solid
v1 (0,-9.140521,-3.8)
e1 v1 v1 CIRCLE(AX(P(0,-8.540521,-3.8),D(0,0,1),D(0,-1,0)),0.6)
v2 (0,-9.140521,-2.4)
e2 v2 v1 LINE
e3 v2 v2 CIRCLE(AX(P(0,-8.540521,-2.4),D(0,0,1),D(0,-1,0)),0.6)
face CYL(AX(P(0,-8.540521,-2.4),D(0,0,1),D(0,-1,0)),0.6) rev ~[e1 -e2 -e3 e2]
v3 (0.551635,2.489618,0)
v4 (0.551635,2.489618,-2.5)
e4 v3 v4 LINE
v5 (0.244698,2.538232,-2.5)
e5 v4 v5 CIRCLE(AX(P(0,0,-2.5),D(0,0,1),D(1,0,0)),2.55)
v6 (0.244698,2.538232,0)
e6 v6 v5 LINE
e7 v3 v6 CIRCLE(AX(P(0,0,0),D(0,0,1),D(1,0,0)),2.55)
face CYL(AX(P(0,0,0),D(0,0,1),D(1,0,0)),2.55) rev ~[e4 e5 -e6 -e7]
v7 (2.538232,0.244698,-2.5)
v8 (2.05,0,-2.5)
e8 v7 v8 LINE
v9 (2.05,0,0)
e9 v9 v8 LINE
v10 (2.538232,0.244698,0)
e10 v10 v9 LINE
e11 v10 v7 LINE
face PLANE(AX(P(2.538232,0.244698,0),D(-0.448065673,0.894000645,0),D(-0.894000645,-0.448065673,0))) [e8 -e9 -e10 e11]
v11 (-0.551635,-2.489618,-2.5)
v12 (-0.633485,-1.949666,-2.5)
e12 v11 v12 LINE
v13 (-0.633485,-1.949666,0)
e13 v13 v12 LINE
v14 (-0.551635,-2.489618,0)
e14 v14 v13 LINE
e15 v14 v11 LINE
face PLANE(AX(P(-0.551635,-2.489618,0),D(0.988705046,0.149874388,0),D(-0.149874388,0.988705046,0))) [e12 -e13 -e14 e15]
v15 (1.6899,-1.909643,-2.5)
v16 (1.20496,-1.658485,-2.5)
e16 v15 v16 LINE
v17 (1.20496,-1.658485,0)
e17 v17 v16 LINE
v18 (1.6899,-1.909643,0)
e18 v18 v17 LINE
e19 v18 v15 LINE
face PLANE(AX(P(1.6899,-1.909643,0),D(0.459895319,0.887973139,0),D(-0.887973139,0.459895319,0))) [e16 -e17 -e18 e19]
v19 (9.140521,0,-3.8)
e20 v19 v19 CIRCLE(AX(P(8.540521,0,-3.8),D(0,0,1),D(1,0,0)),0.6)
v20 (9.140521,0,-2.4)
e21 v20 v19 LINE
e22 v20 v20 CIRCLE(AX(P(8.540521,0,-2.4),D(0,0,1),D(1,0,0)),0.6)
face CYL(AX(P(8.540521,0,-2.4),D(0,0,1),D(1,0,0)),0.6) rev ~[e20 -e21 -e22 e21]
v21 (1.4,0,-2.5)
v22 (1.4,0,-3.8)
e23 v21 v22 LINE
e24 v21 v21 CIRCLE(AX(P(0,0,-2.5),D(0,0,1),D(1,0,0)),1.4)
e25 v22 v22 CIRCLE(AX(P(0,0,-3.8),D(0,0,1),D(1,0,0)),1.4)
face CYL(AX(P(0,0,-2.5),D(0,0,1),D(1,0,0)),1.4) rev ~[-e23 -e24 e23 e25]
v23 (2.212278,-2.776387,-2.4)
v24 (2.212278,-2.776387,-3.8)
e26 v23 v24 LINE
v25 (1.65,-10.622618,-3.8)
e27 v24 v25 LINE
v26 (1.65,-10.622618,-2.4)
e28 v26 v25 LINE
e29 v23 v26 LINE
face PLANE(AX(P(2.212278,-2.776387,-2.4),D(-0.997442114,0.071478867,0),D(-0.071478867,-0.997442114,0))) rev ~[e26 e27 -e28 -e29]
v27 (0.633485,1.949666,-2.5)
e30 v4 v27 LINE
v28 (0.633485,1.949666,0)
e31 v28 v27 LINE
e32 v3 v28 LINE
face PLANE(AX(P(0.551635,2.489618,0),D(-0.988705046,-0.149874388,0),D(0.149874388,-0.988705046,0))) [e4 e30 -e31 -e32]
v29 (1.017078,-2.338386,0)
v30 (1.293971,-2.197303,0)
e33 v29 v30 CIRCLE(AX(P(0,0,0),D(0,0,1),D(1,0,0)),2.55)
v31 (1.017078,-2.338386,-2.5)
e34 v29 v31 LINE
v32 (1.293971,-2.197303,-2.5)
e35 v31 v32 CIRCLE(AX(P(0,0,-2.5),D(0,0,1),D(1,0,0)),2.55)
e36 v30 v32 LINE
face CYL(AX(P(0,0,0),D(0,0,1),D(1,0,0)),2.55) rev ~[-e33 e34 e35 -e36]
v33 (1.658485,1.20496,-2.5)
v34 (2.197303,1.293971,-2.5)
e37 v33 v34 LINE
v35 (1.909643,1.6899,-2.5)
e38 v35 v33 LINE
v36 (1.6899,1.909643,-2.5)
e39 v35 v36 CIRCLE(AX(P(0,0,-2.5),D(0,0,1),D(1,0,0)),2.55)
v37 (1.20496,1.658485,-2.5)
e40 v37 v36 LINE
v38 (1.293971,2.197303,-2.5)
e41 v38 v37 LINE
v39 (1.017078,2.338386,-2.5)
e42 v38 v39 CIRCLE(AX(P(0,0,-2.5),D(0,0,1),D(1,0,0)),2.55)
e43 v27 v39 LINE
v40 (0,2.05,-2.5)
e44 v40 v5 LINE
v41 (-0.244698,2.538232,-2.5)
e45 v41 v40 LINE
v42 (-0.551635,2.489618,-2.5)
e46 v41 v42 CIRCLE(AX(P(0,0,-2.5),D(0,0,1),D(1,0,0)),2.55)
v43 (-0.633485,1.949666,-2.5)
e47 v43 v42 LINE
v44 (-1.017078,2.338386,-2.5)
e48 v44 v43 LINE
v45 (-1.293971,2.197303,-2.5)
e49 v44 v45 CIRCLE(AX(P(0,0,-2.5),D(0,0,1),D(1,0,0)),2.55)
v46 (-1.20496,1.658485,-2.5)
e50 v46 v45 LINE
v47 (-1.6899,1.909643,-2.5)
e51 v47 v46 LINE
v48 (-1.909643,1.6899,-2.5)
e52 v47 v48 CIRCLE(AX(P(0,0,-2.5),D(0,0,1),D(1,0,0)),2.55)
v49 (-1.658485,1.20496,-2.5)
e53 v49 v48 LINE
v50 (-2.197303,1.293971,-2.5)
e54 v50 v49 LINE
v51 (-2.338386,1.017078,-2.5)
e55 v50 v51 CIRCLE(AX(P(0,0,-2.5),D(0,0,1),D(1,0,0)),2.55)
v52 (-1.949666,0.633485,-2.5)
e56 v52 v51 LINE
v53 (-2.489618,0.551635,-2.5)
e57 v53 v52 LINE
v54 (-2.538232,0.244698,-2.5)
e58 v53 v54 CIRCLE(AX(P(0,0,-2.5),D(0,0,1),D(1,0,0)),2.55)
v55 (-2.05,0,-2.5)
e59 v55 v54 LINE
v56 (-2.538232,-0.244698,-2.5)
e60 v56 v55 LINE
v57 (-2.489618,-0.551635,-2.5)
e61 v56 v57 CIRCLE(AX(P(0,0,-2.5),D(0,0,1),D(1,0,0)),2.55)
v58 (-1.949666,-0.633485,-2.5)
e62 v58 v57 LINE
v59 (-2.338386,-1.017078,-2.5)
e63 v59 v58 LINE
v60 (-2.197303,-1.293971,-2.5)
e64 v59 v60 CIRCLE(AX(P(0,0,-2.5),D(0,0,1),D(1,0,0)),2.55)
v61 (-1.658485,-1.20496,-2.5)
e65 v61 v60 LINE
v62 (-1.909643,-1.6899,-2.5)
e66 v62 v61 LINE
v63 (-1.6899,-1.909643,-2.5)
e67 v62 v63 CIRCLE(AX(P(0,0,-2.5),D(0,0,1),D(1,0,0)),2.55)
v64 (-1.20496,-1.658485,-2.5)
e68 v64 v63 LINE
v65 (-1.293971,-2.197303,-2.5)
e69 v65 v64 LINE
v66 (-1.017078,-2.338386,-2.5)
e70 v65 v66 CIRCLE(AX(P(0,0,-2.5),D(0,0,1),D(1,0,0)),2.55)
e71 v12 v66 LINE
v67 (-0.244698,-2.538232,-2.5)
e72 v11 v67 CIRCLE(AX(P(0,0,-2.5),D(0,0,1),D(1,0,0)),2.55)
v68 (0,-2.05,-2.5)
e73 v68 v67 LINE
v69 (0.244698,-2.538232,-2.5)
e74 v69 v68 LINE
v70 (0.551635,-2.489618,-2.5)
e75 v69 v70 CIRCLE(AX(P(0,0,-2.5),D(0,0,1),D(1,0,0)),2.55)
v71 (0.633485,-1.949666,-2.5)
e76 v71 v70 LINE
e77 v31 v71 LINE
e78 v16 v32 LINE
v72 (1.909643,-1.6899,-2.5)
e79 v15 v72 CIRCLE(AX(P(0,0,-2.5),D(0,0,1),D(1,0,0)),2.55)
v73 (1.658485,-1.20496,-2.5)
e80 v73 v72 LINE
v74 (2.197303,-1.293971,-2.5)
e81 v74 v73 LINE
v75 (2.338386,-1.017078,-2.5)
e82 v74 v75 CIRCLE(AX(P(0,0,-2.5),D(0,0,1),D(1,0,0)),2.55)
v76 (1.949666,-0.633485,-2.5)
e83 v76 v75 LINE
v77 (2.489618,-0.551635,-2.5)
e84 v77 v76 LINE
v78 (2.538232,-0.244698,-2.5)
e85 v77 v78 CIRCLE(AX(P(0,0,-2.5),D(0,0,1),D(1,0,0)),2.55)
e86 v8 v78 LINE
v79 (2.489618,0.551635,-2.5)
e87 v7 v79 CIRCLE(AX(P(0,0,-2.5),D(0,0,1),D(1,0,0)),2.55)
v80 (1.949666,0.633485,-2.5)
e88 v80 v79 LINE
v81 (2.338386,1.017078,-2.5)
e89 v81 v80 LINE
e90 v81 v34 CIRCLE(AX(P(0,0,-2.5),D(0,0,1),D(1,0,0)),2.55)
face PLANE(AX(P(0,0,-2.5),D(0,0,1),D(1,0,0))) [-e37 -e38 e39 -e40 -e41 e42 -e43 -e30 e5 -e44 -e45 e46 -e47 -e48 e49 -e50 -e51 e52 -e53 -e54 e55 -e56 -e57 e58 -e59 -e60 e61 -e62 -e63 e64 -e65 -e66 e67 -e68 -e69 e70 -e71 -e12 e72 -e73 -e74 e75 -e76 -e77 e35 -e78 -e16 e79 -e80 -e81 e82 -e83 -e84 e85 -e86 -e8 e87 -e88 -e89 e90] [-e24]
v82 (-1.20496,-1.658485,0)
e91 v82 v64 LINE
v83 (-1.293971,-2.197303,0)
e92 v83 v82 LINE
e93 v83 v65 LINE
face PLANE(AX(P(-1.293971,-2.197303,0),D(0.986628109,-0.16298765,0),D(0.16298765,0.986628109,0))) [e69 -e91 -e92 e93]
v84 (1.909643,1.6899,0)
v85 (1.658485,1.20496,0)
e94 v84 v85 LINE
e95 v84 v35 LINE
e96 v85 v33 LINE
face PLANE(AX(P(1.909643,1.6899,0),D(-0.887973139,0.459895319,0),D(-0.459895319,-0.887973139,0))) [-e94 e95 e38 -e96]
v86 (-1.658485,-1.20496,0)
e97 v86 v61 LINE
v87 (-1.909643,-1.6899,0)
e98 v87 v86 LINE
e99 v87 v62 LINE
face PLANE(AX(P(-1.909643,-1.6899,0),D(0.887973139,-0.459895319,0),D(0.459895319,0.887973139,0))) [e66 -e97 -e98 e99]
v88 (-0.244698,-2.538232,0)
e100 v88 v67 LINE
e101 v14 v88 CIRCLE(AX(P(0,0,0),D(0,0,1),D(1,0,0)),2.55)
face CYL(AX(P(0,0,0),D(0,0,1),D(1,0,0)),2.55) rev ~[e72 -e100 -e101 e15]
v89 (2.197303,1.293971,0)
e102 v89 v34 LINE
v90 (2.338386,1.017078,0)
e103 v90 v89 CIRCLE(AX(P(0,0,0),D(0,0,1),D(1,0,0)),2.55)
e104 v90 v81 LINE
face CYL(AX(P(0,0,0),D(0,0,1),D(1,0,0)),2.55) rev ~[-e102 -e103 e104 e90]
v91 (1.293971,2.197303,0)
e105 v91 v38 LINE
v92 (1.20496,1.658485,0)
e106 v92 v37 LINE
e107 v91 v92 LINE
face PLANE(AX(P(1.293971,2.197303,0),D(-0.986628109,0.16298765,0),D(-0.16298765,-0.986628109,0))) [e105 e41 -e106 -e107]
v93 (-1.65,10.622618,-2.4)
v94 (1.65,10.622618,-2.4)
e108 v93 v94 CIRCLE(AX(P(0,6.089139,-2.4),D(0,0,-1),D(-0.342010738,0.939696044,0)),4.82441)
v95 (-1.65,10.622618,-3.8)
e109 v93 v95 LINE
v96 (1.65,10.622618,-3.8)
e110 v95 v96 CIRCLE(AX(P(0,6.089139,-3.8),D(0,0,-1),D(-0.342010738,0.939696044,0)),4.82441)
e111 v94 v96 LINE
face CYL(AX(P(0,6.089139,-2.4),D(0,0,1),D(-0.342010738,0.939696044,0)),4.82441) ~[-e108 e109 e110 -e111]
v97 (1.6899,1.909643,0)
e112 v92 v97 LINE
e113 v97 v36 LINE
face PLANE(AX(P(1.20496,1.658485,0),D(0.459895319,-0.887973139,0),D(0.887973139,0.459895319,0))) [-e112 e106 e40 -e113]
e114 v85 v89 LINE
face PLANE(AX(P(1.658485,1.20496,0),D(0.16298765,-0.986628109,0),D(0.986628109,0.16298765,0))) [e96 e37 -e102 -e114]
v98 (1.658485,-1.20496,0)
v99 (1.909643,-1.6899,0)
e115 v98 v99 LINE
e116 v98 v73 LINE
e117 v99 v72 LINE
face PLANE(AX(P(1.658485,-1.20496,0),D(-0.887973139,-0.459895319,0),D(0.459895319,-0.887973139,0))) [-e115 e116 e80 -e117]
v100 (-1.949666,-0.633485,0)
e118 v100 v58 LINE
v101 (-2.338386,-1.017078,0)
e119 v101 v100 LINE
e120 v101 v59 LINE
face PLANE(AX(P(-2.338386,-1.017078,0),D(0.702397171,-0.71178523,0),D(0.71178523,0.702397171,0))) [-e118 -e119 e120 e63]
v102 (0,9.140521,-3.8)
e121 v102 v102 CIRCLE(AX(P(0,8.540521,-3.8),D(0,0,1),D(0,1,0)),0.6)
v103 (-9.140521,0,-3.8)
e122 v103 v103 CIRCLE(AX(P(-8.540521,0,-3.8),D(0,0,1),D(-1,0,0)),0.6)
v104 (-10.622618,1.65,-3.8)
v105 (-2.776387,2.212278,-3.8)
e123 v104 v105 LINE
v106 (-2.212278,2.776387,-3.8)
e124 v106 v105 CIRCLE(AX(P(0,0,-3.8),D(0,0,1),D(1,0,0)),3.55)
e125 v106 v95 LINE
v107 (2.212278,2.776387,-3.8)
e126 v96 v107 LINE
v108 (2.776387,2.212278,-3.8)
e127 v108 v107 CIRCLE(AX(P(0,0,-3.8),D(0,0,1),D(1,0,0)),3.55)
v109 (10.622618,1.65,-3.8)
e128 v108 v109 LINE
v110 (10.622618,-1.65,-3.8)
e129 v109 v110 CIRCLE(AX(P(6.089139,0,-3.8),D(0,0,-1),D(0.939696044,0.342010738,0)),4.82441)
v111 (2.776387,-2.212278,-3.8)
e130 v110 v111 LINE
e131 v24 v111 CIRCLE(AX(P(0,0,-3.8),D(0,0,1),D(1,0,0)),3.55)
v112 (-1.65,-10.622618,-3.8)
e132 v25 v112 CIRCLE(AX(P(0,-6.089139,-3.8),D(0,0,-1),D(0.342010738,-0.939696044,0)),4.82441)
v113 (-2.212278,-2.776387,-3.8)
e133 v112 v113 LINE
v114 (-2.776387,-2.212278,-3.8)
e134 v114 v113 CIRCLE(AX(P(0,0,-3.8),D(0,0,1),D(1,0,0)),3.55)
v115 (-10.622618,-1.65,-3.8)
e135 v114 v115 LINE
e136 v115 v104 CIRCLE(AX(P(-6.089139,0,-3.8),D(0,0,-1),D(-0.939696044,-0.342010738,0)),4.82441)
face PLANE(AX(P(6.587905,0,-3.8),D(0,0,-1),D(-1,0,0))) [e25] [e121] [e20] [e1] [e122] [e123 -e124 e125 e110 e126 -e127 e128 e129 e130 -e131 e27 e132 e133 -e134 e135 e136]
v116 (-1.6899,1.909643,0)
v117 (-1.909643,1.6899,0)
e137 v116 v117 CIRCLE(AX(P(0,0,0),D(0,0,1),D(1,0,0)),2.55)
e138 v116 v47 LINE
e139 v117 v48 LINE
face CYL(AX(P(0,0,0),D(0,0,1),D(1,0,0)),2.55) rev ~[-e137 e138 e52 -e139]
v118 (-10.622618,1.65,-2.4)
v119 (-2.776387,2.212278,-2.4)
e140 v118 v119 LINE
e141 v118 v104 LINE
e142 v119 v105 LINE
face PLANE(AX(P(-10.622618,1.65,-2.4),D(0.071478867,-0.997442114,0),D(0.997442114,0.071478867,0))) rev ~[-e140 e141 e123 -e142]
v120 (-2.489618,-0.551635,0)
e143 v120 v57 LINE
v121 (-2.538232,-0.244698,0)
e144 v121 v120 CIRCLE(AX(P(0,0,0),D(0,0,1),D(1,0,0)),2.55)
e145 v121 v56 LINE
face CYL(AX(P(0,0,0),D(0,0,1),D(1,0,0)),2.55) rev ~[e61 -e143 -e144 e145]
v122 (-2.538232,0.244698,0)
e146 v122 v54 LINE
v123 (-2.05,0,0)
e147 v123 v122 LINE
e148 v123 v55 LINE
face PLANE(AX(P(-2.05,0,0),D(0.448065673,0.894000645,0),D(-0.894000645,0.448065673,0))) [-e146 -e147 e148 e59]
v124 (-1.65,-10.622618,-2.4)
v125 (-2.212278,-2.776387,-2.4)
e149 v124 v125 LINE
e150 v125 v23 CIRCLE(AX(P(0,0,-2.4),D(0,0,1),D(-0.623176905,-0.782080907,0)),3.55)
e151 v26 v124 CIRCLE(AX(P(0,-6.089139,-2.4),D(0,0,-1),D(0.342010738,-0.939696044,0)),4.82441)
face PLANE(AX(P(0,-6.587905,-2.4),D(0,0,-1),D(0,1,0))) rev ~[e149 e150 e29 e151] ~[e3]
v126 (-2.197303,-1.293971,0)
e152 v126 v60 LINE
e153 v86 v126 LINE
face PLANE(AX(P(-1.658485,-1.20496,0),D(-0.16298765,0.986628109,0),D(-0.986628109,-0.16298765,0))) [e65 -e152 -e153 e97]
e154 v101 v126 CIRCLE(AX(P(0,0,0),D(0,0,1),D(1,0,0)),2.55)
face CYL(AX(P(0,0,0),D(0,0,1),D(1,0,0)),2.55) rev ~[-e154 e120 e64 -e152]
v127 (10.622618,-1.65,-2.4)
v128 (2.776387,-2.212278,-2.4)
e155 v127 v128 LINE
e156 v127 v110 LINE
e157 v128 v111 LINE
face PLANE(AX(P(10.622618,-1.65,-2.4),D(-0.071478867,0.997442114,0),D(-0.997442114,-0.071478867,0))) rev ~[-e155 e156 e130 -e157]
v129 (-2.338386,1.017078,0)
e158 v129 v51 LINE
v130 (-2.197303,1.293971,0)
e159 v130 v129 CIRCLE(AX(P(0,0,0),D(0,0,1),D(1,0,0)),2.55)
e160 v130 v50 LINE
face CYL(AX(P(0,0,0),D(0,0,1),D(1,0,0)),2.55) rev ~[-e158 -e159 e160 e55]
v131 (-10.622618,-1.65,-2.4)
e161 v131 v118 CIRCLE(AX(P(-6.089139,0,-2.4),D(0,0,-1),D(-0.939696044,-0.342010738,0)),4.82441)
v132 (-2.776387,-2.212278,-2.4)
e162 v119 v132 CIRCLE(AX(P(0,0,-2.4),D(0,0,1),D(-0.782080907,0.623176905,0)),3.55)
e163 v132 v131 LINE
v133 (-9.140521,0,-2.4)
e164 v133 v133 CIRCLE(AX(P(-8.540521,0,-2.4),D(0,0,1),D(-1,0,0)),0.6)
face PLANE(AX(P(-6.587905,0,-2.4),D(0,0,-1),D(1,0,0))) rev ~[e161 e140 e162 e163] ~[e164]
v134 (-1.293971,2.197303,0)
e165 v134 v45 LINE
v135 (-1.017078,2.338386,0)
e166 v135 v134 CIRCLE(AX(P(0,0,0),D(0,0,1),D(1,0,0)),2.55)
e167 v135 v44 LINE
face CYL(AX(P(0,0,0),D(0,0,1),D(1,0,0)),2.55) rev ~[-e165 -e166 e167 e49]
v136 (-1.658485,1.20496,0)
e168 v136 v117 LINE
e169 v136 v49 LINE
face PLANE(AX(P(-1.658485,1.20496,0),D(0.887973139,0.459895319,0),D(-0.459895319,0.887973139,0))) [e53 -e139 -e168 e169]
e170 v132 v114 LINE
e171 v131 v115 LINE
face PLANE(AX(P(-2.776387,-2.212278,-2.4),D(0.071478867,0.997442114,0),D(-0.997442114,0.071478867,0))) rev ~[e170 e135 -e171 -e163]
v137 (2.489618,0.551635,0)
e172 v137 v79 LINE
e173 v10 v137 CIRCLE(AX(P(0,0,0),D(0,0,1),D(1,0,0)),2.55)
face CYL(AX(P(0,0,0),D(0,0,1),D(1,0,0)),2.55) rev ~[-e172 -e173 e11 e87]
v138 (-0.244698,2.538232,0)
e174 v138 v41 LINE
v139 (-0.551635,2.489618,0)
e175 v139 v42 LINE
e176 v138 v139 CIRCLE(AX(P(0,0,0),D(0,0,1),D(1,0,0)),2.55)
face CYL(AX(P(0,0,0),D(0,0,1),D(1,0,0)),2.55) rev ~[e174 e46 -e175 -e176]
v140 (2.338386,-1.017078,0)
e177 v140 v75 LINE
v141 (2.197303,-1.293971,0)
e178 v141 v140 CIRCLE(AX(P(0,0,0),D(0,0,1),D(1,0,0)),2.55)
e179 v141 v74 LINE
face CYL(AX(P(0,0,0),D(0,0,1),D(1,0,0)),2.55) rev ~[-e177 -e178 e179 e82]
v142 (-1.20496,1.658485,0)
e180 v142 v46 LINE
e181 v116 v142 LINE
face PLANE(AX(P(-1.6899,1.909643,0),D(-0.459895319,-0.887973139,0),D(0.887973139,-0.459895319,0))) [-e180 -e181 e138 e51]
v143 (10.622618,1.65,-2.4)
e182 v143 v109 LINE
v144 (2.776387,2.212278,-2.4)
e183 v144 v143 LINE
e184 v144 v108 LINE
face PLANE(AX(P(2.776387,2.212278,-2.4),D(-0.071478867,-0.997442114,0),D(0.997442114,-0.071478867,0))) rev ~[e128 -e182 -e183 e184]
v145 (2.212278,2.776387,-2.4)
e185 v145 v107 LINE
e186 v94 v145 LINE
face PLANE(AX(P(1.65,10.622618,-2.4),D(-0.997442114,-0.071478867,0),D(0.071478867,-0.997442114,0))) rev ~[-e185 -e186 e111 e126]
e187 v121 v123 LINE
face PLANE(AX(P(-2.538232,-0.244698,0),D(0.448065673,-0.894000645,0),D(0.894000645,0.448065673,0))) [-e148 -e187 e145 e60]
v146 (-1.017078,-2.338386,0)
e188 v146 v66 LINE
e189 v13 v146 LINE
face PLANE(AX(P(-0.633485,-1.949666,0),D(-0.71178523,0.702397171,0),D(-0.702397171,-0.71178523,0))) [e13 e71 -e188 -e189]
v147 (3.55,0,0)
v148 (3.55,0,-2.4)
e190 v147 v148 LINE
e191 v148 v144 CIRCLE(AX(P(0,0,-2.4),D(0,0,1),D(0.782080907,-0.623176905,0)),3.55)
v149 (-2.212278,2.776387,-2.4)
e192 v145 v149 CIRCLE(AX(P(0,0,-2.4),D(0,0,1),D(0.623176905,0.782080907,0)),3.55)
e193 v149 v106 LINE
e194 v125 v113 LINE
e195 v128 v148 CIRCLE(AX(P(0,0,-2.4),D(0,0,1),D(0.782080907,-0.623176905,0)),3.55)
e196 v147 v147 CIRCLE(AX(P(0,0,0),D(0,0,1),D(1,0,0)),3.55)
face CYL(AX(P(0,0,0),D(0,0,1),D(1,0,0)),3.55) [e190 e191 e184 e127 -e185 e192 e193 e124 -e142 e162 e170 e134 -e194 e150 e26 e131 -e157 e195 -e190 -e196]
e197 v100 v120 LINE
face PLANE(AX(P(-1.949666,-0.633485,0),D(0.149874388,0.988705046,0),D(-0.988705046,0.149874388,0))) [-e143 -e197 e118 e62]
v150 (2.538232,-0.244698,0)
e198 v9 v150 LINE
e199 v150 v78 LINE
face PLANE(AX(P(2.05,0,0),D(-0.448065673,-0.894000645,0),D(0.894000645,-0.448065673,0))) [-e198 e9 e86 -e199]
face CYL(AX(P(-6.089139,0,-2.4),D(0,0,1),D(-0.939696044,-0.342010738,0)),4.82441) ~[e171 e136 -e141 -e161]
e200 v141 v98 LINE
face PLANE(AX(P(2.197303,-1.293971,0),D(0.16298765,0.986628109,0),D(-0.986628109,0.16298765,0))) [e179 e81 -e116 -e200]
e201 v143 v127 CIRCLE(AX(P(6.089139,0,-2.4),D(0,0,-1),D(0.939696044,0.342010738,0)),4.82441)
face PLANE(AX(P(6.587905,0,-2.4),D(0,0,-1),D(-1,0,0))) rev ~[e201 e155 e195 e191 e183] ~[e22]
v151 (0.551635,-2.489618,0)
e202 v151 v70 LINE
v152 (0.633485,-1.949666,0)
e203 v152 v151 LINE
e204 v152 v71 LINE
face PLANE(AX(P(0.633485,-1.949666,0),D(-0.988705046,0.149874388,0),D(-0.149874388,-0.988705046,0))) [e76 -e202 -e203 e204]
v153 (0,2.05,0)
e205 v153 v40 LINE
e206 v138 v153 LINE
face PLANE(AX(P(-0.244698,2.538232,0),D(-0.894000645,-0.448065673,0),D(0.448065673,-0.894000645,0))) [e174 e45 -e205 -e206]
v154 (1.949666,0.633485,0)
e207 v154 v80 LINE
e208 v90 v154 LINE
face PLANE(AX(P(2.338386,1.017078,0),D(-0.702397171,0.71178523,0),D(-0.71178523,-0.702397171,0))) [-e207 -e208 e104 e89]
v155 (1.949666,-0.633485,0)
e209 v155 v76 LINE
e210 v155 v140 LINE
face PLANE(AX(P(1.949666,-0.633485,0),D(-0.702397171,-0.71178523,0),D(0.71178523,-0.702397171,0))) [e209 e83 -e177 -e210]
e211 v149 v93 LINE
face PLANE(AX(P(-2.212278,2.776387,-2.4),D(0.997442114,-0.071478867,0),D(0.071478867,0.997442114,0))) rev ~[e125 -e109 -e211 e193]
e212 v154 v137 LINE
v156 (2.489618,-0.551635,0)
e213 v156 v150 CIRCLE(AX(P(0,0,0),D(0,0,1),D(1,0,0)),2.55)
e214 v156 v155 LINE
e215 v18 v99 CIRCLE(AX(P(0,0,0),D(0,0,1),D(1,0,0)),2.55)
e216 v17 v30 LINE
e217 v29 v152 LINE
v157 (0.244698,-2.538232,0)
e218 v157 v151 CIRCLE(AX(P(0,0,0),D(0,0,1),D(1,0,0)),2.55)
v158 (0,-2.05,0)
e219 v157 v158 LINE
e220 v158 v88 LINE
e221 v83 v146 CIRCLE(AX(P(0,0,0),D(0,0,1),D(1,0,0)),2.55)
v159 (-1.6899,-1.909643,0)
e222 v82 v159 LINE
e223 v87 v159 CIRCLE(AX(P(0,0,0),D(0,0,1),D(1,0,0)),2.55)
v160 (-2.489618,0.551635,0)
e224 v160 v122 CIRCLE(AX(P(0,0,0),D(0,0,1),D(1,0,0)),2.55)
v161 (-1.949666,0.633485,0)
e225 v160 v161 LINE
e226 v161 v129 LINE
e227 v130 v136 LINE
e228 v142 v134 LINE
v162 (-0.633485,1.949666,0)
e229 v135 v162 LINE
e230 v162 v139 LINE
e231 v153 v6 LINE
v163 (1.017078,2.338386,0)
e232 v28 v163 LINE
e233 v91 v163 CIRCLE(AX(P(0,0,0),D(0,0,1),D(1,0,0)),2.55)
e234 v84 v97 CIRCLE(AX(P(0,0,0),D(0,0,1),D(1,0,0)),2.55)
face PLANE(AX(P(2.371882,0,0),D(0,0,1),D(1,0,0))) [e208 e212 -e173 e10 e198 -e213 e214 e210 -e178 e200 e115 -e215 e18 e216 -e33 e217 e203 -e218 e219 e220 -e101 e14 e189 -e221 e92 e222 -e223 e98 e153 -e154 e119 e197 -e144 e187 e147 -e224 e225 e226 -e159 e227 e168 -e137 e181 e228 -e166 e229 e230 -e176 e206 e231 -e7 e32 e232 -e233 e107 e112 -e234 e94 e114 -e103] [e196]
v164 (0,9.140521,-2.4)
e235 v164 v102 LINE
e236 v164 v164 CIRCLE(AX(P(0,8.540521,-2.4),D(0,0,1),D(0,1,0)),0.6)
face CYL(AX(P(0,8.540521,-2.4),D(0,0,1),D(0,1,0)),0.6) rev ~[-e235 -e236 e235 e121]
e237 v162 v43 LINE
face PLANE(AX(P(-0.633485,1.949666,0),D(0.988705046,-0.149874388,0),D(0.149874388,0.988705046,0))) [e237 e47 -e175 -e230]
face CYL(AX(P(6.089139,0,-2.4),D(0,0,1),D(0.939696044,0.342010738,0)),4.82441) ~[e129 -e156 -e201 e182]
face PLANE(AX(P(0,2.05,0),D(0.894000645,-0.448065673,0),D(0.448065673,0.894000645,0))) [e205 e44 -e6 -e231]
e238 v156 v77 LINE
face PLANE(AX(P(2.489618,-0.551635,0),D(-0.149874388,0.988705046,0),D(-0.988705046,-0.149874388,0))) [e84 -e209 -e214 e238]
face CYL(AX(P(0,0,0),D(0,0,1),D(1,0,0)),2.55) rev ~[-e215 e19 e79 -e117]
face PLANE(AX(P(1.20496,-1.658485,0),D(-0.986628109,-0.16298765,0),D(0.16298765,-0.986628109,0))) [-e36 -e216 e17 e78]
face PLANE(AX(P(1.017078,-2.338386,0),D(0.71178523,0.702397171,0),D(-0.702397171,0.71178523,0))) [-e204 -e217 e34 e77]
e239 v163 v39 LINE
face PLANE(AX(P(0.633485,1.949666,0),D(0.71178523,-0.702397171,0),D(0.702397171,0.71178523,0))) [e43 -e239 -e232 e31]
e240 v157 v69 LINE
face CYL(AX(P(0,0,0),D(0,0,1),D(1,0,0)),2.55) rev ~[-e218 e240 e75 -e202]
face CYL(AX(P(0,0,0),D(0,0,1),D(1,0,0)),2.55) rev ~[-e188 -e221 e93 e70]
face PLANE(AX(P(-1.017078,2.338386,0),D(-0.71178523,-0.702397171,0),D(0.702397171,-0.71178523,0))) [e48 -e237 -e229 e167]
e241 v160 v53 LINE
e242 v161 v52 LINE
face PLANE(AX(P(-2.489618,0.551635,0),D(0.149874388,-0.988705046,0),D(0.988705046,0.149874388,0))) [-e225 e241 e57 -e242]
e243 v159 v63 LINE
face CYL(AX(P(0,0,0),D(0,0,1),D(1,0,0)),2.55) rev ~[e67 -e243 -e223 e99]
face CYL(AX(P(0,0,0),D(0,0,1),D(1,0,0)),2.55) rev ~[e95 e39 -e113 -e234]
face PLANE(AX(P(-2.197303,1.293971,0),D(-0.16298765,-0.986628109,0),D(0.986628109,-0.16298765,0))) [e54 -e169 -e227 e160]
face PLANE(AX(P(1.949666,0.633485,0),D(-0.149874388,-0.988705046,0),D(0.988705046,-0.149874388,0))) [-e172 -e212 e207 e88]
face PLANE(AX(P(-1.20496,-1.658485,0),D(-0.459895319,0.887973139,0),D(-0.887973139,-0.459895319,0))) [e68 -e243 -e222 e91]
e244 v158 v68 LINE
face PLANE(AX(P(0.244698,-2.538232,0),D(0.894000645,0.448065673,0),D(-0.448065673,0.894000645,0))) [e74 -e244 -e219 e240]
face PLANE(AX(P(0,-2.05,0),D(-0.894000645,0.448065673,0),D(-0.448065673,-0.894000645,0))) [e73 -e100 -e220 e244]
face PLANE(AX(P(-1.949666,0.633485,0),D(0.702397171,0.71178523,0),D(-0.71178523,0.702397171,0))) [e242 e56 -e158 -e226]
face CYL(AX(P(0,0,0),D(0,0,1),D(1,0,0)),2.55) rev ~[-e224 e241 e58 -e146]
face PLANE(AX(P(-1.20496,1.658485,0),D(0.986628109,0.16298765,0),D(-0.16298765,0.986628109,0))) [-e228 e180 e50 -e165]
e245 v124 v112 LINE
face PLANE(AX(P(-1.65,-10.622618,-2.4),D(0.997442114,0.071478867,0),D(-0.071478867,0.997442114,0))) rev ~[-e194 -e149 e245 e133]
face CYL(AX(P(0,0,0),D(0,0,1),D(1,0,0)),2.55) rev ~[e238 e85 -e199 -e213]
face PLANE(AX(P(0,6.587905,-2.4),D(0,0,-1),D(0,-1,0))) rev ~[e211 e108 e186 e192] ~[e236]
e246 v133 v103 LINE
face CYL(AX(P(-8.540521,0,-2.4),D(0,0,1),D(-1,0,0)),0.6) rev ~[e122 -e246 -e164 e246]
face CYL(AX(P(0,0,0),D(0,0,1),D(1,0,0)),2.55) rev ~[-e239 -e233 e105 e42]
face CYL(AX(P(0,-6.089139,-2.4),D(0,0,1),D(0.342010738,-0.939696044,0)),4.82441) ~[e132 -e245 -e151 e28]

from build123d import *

# Parameters (mm, degrees)
SKETCH2_R           = 3.55
BOSS_EXTRUDE1_DEPTH = 3.8
BOSS_EXTRUDE2_DEPTH = 1.4
SKETCH5_R           = 2.549999919
CUT_EXTRUDE1_DEPTH  = 2.5
BOSS_EXTRUDE3_DEPTH = 2.5
SKETCH6_R           = 1.4
CUT_EXTRUDE2_DEPTH  = 12.745554295
SKETCH7_R           = 0.6
CUT_EXTRUDE3_DEPTH  = 12.724676785
CIRPATTERN1_COUNT   = 4
CIRPATTERN2_COUNT   = 4


with BuildPart() as part:
    # Sketch2 → Boss-Extrude1 (new body)
    with BuildSketch(Plane.XY):
        Circle(SKETCH2_R)
    extrude(amount=-BOSS_EXTRUDE1_DEPTH)

    # Sketch4 → Boss-Extrude2 (add)
    with BuildSketch(Plane.XY.offset(-2.4)):
        with BuildLine():
            Line((2.776387215, 2.212277889), (10.622617722, 1.649999976))
            ThreePointArc((10.622617722, 1.649999976), (10.913548722, 0), (10.622617722, -1.649999976))
            Line((10.622617722, -1.649999976), (2.776387215, -2.212277889))
            ThreePointArc((2.776387215, -2.212277889), (3.549999952, 0), (2.776387215, 2.212277889))
        make_face()
    boss_extrude2 = extrude(amount=-BOSS_EXTRUDE2_DEPTH)

    # Sketch5 → Cut-Extrude1 (cut)
    with BuildSketch(Plane.XY):
        Circle(SKETCH5_R)
    extrude(amount=-CUT_EXTRUDE1_DEPTH, mode=Mode.SUBTRACT)

    # Sketch3 → Boss-Extrude3 (add)
    with BuildSketch(Plane.XY):
        with BuildLine():
            Line((-0.244697916, 2.538232164), (0, 2.049999952))
            Line((0, 2.049999952), (0.244697916, 2.538232164))
            ThreePointArc((0.244697916, 2.538232164), (0, 2.549999919), (-0.244697916, 2.538232164))
        make_face()
        with BuildLine():
            Line((0.551635326, 2.489618054), (0.633484824, 1.949665813))
            Line((0.633484824, 1.949665813), (1.017078422, 2.338386424))
            ThreePointArc((1.017078422, 2.338386424), (0.787993311, 2.42519404), (0.551635326, 2.489618054))
        make_face()
        with BuildLine():
            Line((1.29397066, 2.197302783), (1.204959739, 1.6584848))
            Line((1.204959739, 1.6584848), (1.689900206, 1.90964313))
            ThreePointArc((1.689900206, 1.90964313), (1.498852346, 2.06299327), (1.29397066, 2.197302783))
        make_face()
        with BuildLine():
            Line((1.90964313, 1.689900206), (1.6584848, 1.204959739))
            Line((1.6584848, 1.204959739), (2.197302783, 1.29397066))
            ThreePointArc((2.197302783, 1.29397066), (2.06299327, 1.498852346), (1.90964313, 1.689900206))
        make_face()
        with BuildLine():
            Line((2.338386424, 1.017078422), (1.949665813, 0.633484824))
            Line((1.949665813, 0.633484824), (2.489618054, 0.551635326))
            ThreePointArc((2.489618054, 0.551635326), (2.42519404, 0.787993311), (2.338386424, 1.017078422))
        make_face()
        with BuildLine():
            Line((2.538232164, 0.244697916), (2.049999952, 0))
            Line((2.049999952, 0), (2.538232164, -0.244697916))
            ThreePointArc((2.538232164, -0.244697916), (2.549999919, 0), (2.538232164, 0.244697916))
        make_face()
        with BuildLine():
            Line((2.489618054, -0.551635326), (1.949665813, -0.633484824))
            Line((1.949665813, -0.633484824), (2.338386424, -1.017078422))
            ThreePointArc((2.338386424, -1.017078422), (2.42519404, -0.787993311), (2.489618054, -0.551635326))
        make_face()
        with BuildLine():
            Line((2.197302783, -1.29397066), (1.6584848, -1.204959739))
            Line((1.6584848, -1.204959739), (1.90964313, -1.689900206))
            ThreePointArc((1.90964313, -1.689900206), (2.06299327, -1.498852346), (2.197302783, -1.29397066))
        make_face()
        with BuildLine():
            Line((1.689900206, -1.90964313), (1.204959739, -1.6584848))
            Line((1.204959739, -1.6584848), (1.29397066, -2.197302783))
            ThreePointArc((1.29397066, -2.197302783), (1.498852346, -2.06299327), (1.689900206, -1.90964313))
        make_face()
        with BuildLine():
            Line((1.017078422, -2.338386424), (0.633484824, -1.949665813))
            Line((0.633484824, -1.949665813), (0.551635326, -2.489618054))
            ThreePointArc((0.551635326, -2.489618054), (0.787993311, -2.42519404), (1.017078422, -2.338386424))
        make_face()
        with BuildLine():
            Line((0.244697916, -2.538232164), (0, -2.049999952))
            Line((0, -2.049999952), (-0.244697916, -2.538232164))
            ThreePointArc((-0.244697916, -2.538232164), (0, -2.549999919), (0.244697916, -2.538232164))
        make_face()
        with BuildLine():
            Line((-0.551635326, -2.489618054), (-0.633484824, -1.949665813))
            Line((-0.633484824, -1.949665813), (-1.017078422, -2.338386424))
            ThreePointArc((-1.017078422, -2.338386424), (-0.787993311, -2.42519404), (-0.551635326, -2.489618054))
        make_face()
        with BuildLine():
            Line((-1.29397066, -2.197302783), (-1.204959739, -1.6584848))
            Line((-1.204959739, -1.6584848), (-1.689900206, -1.90964313))
            ThreePointArc((-1.689900206, -1.90964313), (-1.498852346, -2.06299327), (-1.29397066, -2.197302783))
        make_face()
        with BuildLine():
            Line((-1.90964313, -1.689900206), (-1.6584848, -1.204959739))
            Line((-1.6584848, -1.204959739), (-2.197302783, -1.29397066))
            ThreePointArc((-2.197302783, -1.29397066), (-2.06299327, -1.498852346), (-1.90964313, -1.689900206))
        make_face()
        with BuildLine():
            Line((-2.338386424, -1.017078422), (-1.949665813, -0.633484824))
            Line((-1.949665813, -0.633484824), (-2.489618054, -0.551635326))
            ThreePointArc((-2.489618054, -0.551635326), (-2.42519404, -0.787993311), (-2.338386424, -1.017078422))
        make_face()
        with BuildLine():
            Line((-2.538232164, -0.244697916), (-2.049999952, 0))
            Line((-2.049999952, 0), (-2.538232164, 0.244697916))
            ThreePointArc((-2.538232164, 0.244697916), (-2.549999919, 0), (-2.538232164, -0.244697916))
        make_face()
        with BuildLine():
            Line((-2.489618054, 0.551635326), (-1.949665813, 0.633484824))
            Line((-1.949665813, 0.633484824), (-2.338386424, 1.017078422))
            ThreePointArc((-2.338386424, 1.017078422), (-2.42519404, 0.787993311), (-2.489618054, 0.551635326))
        make_face()
        with BuildLine():
            Line((-2.197302783, 1.29397066), (-1.6584848, 1.204959739))
            Line((-1.6584848, 1.204959739), (-1.90964313, 1.689900206))
            ThreePointArc((-1.90964313, 1.689900206), (-2.06299327, 1.498852346), (-2.197302783, 1.29397066))
        make_face()
        with BuildLine():
            Line((-1.689900206, 1.90964313), (-1.204959739, 1.6584848))
            Line((-1.204959739, 1.6584848), (-1.29397066, 2.197302783))
            ThreePointArc((-1.29397066, 2.197302783), (-1.498852346, 2.06299327), (-1.689900206, 1.90964313))
        make_face()
        with BuildLine():
            Line((-1.017078422, 2.338386424), (-0.633484824, 1.949665813))
            Line((-0.633484824, 1.949665813), (-0.551635326, 2.489618054))
            ThreePointArc((-0.551635326, 2.489618054), (-0.787993311, 2.42519404), (-1.017078422, 2.338386424))
        make_face()
    extrude(amount=-BOSS_EXTRUDE3_DEPTH)

    # Sketch6 → Cut-Extrude2 (cut, through all)
    with BuildSketch(Plane.XY.offset(-2.5)):
        Circle(SKETCH6_R)
    extrude(amount=-CUT_EXTRUDE2_DEPTH, mode=Mode.SUBTRACT)

    # Sketch7 → Cut-Extrude3 (cut, through all)
    with BuildSketch(Plane.XY.offset(-2.4)):
        with Locations((8.5405208, 0)):
            Circle(SKETCH7_R)
    cut_extrude3 = extrude(amount=-CUT_EXTRUDE3_DEPTH, mode=Mode.SUBTRACT)

    # CirPattern1: Boss-Extrude2 ×4 about axis
    cirpattern1_axis = Axis((0, 0, 0), (0, 0, 1))
    for i in range(1, CIRPATTERN1_COUNT):
        add(boss_extrude2.rotate(cirpattern1_axis, i * 360 / CIRPATTERN1_COUNT))

    # CirPattern2: Cut-Extrude3 ×4 about axis
    cirpattern2_axis = Axis((0, 0, 0), (0, 0, 1))
    for i in range(1, CIRPATTERN2_COUNT):
        add(cut_extrude3.rotate(cirpattern2_axis, i * 360 / CIRPATTERN2_COUNT), mode=Mode.SUBTRACT)


solid = part.part
